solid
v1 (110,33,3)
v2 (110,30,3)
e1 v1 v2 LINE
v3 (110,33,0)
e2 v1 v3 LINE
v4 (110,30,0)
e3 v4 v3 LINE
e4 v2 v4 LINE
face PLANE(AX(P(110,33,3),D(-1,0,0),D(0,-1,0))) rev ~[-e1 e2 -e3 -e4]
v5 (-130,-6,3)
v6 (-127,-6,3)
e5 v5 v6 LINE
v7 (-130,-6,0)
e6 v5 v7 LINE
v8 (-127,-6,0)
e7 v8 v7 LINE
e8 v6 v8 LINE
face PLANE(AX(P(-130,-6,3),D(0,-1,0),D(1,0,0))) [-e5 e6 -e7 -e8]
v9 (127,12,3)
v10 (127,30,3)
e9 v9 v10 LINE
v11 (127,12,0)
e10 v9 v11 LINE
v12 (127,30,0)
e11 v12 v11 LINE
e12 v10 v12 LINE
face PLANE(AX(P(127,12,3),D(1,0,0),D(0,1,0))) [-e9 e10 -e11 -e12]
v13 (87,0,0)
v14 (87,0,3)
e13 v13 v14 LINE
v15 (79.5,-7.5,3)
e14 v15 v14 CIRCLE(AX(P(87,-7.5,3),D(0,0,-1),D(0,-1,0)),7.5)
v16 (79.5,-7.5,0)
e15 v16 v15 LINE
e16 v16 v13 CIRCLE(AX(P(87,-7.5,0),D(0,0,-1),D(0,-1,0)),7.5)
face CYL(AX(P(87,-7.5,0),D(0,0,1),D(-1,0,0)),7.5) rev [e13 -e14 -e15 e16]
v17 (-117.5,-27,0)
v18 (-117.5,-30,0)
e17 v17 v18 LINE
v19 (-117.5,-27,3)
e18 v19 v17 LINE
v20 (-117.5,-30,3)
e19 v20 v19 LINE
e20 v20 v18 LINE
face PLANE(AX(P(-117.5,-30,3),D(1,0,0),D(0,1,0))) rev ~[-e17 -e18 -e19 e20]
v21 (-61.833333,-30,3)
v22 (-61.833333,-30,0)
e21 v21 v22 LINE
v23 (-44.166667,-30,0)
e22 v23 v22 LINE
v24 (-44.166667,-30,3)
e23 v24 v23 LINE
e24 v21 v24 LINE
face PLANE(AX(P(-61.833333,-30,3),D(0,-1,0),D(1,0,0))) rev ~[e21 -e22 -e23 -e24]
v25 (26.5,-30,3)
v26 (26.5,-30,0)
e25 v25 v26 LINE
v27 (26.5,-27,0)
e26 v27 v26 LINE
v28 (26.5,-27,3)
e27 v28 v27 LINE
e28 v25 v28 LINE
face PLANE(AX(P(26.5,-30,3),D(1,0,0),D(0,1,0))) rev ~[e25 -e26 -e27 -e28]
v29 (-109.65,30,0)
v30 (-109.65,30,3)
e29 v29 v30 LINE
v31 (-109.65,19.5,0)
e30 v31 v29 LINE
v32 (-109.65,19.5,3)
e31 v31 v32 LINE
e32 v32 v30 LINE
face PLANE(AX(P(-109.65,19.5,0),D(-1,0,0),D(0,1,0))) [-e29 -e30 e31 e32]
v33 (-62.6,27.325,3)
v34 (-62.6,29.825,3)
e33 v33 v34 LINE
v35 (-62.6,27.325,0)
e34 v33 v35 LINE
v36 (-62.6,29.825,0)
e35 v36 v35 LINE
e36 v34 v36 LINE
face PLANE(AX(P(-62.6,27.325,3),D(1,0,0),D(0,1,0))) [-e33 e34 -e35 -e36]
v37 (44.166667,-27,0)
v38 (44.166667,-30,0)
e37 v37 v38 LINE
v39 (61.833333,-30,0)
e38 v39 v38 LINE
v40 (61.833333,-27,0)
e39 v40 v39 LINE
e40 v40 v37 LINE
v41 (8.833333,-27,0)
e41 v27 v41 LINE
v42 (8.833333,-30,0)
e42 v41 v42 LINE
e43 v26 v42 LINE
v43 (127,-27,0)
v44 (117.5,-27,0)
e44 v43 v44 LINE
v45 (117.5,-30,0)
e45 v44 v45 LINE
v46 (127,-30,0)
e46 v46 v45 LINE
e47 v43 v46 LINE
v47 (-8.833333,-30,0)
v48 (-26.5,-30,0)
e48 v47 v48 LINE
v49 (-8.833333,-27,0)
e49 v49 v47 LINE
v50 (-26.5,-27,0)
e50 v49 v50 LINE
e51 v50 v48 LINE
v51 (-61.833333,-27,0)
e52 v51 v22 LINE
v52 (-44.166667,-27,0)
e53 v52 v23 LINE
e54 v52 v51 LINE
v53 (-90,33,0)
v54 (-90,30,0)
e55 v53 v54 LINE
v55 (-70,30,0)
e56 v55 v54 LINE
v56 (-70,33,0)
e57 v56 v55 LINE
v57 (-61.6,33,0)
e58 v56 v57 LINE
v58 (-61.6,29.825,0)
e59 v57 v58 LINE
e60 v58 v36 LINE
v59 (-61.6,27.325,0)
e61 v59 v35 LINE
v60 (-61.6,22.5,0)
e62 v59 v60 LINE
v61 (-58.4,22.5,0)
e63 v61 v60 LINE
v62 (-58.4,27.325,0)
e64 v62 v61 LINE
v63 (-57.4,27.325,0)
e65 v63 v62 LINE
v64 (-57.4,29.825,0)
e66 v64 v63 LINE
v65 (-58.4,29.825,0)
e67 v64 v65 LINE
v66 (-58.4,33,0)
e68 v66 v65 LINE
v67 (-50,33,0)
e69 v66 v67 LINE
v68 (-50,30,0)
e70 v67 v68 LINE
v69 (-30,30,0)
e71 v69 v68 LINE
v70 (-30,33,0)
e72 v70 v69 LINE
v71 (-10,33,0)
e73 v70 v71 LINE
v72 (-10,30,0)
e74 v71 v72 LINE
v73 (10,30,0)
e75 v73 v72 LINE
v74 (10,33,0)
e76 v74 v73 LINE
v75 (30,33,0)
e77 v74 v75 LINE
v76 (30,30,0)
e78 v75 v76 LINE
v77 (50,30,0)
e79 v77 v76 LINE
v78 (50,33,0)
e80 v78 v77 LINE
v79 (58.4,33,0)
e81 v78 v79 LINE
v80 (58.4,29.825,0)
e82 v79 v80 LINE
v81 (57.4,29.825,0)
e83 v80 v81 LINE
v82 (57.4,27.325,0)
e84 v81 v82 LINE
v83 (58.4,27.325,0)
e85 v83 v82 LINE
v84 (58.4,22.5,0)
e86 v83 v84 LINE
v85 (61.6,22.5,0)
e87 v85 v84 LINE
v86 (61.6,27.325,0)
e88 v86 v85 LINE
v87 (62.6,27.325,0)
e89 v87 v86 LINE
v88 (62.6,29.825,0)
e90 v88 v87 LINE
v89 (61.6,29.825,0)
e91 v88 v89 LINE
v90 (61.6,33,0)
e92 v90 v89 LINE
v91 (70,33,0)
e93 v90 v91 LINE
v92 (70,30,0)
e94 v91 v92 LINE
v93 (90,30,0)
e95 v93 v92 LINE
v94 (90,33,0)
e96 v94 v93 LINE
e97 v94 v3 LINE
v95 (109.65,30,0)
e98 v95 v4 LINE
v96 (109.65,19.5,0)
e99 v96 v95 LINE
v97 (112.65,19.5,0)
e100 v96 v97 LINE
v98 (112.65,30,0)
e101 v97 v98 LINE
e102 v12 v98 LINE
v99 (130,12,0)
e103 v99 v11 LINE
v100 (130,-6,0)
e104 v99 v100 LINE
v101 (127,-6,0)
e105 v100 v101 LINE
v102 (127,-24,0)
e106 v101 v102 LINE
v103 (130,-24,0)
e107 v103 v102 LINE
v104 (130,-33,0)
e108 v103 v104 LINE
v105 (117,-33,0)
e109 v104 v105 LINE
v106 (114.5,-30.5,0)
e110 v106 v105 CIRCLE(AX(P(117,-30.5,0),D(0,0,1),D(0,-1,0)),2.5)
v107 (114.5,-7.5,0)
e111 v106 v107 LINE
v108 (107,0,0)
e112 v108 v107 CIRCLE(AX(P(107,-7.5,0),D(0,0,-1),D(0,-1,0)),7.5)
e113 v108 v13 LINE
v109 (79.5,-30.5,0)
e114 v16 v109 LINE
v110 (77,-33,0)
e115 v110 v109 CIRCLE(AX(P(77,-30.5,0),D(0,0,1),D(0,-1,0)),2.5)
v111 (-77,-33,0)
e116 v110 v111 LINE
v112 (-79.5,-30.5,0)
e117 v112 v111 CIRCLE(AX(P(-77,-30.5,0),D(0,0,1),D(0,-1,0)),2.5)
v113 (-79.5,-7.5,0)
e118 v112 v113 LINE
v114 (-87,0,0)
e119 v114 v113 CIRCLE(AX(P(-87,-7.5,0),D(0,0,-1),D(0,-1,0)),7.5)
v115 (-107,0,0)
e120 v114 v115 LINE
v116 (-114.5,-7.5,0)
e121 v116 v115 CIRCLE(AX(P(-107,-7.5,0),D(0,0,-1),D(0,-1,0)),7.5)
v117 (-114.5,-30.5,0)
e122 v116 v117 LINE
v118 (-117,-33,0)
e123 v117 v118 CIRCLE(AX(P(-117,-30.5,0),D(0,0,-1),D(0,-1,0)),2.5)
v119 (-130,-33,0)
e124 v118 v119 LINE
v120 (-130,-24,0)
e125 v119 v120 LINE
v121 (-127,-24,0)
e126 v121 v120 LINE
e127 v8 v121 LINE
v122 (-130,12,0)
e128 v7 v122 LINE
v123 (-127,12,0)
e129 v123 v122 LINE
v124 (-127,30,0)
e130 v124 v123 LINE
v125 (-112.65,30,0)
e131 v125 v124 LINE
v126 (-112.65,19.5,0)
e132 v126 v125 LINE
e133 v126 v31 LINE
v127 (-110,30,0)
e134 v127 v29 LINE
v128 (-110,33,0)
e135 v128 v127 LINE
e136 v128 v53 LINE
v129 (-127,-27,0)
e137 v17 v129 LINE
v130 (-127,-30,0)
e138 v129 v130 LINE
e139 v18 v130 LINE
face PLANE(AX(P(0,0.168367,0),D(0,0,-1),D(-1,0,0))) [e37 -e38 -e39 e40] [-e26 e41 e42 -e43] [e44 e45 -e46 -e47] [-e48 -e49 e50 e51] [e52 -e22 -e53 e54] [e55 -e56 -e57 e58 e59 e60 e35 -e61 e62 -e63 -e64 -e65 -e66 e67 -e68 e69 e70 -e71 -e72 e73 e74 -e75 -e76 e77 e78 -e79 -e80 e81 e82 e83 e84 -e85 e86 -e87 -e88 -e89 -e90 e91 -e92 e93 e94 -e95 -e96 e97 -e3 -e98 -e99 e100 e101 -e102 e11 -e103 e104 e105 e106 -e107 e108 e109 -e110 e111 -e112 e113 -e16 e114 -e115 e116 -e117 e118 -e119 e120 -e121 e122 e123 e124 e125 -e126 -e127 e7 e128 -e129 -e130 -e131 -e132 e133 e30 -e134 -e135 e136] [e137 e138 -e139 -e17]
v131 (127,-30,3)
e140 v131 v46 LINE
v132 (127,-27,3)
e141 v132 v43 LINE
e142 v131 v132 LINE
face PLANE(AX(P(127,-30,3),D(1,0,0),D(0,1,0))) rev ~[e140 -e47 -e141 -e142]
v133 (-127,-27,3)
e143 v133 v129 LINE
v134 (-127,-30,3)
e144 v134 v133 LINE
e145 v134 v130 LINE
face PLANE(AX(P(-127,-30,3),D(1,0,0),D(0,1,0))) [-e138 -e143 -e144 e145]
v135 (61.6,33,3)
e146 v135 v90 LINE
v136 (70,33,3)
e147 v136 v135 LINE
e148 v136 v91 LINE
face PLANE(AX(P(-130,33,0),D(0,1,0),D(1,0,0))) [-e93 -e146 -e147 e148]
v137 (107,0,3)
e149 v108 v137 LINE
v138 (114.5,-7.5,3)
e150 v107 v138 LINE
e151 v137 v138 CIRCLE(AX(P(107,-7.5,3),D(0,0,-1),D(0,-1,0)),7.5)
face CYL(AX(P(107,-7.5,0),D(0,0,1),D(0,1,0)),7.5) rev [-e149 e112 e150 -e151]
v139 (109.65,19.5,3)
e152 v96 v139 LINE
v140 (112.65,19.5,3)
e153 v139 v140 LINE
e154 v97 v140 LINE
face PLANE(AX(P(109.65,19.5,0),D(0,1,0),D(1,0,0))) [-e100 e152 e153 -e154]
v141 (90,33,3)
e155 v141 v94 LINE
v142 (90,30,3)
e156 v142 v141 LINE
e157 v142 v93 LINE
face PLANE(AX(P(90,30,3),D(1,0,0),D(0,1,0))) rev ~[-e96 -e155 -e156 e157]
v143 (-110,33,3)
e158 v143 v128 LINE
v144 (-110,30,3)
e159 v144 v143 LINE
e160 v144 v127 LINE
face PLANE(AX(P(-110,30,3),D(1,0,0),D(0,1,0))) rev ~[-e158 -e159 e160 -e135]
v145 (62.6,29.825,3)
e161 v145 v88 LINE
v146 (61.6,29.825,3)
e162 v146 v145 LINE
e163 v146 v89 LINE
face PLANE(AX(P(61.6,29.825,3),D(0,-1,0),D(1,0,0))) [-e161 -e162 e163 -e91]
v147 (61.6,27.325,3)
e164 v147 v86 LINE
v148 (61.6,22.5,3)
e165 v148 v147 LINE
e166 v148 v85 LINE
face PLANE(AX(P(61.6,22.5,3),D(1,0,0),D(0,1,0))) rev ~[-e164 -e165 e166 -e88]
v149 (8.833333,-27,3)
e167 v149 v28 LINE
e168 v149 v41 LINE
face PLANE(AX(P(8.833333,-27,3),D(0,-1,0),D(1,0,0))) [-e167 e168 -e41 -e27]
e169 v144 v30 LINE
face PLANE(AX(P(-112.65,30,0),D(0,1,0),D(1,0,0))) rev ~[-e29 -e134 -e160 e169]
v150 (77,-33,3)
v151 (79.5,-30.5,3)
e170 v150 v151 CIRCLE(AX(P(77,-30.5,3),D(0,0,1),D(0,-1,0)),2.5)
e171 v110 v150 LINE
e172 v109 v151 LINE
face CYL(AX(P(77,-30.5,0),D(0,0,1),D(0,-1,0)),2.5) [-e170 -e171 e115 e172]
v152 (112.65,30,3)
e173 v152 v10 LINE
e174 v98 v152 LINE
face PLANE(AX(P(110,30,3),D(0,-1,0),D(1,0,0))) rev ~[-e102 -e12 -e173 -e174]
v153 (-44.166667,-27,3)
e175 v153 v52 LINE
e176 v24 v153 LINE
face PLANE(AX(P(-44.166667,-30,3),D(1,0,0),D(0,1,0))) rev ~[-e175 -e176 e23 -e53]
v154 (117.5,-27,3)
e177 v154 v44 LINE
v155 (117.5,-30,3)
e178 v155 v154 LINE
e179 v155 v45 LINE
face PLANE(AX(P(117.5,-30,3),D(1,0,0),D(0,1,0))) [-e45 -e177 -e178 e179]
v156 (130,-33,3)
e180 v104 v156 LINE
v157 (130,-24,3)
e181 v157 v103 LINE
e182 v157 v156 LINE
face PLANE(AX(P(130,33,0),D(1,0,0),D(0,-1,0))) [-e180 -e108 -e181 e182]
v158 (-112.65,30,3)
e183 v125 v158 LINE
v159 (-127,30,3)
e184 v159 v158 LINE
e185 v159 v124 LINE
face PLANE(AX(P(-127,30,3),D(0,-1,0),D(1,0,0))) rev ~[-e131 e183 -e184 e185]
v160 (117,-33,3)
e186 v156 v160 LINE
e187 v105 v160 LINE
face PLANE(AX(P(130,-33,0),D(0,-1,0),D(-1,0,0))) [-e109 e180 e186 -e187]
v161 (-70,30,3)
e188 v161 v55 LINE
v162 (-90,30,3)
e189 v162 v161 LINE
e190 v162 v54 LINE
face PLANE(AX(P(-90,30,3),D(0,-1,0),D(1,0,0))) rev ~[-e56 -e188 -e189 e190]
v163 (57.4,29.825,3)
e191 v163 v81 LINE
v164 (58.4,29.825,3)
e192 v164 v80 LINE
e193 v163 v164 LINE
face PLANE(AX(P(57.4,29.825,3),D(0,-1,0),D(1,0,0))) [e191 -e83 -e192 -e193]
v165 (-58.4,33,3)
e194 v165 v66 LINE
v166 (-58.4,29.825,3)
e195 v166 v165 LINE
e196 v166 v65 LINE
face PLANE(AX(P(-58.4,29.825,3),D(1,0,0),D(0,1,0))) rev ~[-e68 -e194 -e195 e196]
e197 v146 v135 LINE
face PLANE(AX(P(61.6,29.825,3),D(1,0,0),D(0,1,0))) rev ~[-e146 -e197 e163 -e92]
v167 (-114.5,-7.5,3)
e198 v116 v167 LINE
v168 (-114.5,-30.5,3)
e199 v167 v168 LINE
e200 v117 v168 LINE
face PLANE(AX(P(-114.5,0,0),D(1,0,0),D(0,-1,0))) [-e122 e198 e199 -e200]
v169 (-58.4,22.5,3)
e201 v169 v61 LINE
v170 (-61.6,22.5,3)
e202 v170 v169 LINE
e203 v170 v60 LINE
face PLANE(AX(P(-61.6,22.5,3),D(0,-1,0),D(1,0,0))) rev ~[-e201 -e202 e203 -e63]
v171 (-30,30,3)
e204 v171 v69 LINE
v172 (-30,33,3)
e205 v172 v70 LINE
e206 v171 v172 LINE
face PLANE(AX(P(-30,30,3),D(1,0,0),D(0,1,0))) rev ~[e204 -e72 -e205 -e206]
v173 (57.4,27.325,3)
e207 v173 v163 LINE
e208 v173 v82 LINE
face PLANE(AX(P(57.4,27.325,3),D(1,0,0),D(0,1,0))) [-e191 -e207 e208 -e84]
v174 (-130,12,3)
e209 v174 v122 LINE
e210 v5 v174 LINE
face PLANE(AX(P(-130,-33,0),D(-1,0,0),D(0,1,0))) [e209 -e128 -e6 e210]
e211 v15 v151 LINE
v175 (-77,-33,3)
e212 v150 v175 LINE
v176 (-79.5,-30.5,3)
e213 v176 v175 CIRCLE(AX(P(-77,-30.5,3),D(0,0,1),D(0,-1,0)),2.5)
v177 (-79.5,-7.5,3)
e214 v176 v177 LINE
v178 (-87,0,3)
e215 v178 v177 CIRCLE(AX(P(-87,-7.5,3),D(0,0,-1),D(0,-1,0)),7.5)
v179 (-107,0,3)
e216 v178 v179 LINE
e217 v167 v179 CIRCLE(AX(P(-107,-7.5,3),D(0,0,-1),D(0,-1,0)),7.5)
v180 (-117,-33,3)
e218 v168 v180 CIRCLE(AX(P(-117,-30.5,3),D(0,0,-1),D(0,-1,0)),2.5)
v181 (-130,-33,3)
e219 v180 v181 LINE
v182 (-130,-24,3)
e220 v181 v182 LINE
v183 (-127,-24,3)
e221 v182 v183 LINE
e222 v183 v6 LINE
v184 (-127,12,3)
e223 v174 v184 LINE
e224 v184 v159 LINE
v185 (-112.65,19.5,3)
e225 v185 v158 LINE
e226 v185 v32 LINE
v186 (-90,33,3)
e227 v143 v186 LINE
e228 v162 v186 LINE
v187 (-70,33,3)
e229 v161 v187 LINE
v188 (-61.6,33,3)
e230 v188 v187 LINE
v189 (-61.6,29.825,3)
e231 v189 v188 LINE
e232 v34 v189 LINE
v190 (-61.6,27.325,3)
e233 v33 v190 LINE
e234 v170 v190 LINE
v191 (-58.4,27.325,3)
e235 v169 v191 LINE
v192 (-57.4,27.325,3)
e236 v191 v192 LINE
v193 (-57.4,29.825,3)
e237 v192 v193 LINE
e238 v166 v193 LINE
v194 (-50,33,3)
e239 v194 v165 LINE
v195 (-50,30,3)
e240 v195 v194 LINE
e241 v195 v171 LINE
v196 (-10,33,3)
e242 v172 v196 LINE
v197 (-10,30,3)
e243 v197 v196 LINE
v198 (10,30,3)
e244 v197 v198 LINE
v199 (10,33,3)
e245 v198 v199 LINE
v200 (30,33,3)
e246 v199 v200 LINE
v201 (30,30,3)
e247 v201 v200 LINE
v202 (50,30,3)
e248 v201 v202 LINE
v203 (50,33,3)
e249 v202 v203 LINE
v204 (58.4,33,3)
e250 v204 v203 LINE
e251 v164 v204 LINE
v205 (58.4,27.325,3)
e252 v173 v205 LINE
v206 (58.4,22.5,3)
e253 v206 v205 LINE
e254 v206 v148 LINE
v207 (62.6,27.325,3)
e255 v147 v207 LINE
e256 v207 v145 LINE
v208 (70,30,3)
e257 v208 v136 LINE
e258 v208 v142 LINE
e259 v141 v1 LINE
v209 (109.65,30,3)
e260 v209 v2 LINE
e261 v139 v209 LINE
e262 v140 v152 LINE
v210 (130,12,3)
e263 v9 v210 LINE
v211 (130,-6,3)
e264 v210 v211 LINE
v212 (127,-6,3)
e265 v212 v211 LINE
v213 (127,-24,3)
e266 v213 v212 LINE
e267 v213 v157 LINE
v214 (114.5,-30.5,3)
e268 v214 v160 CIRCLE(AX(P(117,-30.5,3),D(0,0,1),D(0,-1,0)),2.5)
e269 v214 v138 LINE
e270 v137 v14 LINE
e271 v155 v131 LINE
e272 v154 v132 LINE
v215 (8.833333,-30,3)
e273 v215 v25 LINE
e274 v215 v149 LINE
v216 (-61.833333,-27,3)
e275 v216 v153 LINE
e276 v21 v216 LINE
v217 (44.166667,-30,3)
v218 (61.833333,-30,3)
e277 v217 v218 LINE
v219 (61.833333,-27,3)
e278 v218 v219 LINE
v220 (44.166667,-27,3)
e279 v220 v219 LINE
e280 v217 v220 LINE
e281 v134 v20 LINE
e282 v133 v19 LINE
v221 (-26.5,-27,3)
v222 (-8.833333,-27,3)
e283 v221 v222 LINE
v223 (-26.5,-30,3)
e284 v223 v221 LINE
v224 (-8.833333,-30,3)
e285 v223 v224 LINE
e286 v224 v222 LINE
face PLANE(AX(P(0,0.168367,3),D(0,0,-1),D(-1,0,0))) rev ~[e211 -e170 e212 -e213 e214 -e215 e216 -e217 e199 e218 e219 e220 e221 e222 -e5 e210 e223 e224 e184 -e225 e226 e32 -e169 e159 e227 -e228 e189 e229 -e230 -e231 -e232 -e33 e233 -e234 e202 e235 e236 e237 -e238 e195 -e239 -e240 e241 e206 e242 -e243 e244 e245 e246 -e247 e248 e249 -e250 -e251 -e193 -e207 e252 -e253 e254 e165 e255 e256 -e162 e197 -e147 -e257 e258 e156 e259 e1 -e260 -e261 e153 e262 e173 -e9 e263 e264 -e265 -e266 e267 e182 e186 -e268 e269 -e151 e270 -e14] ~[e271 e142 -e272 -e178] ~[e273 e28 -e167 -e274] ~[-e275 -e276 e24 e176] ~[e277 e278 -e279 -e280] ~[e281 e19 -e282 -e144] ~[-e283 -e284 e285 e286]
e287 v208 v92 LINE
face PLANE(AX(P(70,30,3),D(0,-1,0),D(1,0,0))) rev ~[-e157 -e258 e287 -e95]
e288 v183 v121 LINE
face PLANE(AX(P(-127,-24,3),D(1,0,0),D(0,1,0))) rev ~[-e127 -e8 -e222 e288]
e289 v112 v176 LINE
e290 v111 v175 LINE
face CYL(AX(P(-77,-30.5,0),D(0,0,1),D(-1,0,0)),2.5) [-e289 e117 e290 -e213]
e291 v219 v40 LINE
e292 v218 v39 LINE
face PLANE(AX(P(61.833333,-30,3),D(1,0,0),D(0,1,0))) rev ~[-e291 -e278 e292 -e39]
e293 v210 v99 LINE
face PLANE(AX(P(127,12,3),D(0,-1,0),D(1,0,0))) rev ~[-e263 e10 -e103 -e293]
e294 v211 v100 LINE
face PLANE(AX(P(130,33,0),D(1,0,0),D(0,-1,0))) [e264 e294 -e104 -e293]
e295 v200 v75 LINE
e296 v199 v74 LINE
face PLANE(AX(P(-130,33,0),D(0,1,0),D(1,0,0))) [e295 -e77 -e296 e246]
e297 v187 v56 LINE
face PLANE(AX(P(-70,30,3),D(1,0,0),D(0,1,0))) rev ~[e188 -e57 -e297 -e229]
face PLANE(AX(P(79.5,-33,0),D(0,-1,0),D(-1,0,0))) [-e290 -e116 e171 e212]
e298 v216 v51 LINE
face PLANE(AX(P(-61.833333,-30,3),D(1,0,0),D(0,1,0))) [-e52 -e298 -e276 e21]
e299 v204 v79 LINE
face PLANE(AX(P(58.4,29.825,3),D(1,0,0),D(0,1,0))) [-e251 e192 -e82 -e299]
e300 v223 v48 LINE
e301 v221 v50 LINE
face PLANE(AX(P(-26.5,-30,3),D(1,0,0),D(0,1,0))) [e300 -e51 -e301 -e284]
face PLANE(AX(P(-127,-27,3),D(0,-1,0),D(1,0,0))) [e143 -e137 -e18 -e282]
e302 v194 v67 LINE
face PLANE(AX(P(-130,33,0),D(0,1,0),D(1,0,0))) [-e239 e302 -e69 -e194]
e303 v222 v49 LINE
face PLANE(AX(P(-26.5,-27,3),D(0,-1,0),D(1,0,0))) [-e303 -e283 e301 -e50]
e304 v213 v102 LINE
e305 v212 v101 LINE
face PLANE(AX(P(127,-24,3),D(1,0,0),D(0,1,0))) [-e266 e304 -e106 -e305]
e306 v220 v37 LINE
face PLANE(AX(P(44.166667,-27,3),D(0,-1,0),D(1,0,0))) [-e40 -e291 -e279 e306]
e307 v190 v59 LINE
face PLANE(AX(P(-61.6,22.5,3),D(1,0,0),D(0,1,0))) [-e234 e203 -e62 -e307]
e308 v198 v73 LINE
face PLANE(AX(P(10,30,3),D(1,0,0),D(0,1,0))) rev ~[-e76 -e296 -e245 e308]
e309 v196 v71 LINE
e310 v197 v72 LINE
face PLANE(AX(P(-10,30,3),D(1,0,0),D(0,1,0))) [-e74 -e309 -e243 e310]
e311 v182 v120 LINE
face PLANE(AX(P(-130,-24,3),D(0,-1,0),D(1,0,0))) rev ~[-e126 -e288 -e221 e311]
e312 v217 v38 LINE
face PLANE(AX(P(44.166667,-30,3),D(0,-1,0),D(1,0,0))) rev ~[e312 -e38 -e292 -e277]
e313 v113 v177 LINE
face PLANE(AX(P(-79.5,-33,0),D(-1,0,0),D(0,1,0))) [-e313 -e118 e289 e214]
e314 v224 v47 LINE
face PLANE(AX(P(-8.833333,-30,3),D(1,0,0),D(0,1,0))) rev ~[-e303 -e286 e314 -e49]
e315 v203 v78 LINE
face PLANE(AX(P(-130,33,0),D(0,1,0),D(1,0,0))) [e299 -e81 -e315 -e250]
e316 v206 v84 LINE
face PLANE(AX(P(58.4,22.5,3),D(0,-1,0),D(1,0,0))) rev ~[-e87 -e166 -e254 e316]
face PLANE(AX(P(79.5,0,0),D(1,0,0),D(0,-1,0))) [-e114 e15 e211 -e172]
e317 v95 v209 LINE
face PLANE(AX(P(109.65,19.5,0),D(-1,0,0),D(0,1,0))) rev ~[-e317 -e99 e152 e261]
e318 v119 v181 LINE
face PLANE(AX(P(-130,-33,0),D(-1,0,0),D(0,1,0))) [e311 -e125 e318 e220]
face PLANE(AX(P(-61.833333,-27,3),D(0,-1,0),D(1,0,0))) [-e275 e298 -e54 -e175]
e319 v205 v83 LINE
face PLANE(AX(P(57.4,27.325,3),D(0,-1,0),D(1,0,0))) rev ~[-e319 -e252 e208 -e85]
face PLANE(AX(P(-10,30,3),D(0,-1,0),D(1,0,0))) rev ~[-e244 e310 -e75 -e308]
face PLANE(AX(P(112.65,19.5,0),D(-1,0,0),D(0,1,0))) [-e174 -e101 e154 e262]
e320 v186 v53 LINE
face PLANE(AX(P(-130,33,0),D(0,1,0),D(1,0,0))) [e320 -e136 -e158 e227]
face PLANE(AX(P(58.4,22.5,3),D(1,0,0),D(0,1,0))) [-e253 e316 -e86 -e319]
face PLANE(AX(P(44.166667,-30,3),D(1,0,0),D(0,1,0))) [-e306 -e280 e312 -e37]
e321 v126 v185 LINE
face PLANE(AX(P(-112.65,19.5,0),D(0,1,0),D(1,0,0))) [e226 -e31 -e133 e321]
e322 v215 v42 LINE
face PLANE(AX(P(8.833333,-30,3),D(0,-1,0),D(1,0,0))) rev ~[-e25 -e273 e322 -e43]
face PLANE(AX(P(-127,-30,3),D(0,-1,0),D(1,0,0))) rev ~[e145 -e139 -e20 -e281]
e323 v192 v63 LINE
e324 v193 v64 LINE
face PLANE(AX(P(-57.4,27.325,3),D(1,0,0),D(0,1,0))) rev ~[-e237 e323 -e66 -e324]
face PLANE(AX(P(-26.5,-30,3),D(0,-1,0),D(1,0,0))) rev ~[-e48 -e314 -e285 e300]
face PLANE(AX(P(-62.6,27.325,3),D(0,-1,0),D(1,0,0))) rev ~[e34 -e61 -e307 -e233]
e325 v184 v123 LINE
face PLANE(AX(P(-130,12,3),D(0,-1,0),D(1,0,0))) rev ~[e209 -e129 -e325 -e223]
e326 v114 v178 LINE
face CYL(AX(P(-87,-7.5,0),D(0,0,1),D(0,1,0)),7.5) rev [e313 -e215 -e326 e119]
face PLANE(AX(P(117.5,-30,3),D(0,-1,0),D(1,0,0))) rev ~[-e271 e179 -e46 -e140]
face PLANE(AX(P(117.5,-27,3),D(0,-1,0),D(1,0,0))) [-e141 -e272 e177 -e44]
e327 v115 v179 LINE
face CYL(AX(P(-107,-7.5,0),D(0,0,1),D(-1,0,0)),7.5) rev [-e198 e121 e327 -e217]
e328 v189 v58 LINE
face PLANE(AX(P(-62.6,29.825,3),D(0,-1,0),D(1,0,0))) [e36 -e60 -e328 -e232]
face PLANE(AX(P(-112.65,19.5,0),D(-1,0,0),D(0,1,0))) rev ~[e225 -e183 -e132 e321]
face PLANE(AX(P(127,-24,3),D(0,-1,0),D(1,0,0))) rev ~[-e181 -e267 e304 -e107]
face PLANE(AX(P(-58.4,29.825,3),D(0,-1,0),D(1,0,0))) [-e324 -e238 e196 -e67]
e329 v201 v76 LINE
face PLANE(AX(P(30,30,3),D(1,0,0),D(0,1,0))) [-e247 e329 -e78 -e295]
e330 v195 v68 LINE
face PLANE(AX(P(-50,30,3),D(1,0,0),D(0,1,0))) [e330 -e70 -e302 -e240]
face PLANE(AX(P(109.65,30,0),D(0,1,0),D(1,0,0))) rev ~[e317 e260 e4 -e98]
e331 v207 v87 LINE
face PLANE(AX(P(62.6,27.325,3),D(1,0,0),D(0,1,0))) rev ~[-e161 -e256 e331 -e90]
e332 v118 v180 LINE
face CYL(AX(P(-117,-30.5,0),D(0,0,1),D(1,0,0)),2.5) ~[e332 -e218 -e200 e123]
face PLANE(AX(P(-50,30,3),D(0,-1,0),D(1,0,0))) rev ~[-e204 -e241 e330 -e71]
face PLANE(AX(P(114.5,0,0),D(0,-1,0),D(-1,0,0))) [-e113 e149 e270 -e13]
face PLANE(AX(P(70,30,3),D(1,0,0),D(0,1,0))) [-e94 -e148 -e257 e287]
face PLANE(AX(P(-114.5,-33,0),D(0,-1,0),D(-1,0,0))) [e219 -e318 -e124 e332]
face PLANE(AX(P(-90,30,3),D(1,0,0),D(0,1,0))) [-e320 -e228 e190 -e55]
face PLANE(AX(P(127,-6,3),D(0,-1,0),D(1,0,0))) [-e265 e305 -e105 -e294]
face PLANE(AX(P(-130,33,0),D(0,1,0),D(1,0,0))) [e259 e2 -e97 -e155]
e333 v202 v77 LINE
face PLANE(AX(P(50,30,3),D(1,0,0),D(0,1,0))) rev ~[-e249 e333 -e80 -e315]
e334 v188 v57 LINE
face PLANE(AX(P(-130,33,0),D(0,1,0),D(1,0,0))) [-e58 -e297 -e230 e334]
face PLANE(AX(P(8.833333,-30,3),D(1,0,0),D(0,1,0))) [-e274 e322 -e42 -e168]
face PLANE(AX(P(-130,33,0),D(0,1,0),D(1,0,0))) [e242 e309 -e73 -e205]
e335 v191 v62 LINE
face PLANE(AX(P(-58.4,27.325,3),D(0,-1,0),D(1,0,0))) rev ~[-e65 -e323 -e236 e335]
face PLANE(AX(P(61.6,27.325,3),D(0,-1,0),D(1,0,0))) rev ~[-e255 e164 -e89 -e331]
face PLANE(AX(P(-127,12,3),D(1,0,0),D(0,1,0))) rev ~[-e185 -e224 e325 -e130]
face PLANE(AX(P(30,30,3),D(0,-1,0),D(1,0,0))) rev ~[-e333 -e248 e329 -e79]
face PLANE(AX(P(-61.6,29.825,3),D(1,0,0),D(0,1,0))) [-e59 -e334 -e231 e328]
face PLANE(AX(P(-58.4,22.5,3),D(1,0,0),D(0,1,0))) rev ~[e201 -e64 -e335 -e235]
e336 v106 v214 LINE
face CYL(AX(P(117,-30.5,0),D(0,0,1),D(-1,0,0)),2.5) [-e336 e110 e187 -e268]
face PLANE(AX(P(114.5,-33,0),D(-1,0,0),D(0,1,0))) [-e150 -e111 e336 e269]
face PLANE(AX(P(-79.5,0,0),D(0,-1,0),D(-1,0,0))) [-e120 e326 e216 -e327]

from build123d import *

# Parameters (mm, degrees)
BOSS_EXTRUDE1_DEPTH     = 3
SKETCH2_W               = 3
SKETCH2_H               = 18
SKETCH2_W_2             = 17.666666666
SKETCH2_H_2             = 3
SKETCH2_W_3             = 17.666666667
SKETCH2_W_4             = 9.5
SKETCH2_W_5             = 20
CUT_EXTRUDE1_DEPTH      = 1
CUT_EXTRUDE1_DEPTH_BACK = 4
SKETCH3_W               = 3.2
SKETCH3_H               = 10.5
SKETCH3_W_2             = 5.2
SKETCH3_H_2             = 2.5
CUT_EXTRUDE2_DEPTH      = 1
CUT_EXTRUDE2_DEPTH_BACK = 4
FILLET1_R               = 7.5
FILLET2_R               = 2.5
SKETCH4_W               = 3
SKETCH4_H               = 10.5
CUT_EXTRUDE3_DEPTH      = 4
CUT_EXTRUDE3_DEPTH_BACK = 1


with BuildPart() as part:
    # Sketch1 → Boss-Extrude1 (new body)
    with BuildSketch(Plane.XY):
        Polygon((-130, 33), (130, 33), (130, -33), (114.5, -33), (114.5, 0), (79.5, 0), (79.5, -33), (-79.5, -33), (-79.5, 0), (-114.5, 0), (-114.5, -33), (-130, -33), align=None)
    extrude(amount=BOSS_EXTRUDE1_DEPTH)

    # Sketch2 → Cut-Extrude1 (cut, two sides)
    with BuildSketch(Plane.XY.offset(3)) as cut_extrude1_sk:
        with Locations((-128.5, 21)):
            Rectangle(SKETCH2_W, SKETCH2_H)
        with Locations((-128.5, -15)):
            Rectangle(SKETCH2_W, SKETCH2_H)
        with Locations((-53, -28.5)):
            Rectangle(SKETCH2_W_2, SKETCH2_H_2)
        with Locations((-17.666666666, -28.5)):
            Rectangle(SKETCH2_W_3, SKETCH2_H_2)
        with Locations((17.666666666, -28.5)):
            Rectangle(SKETCH2_W_3, SKETCH2_H_2)
        with Locations((53, -28.5)):
            Rectangle(SKETCH2_W_2, SKETCH2_H_2)
        with Locations((122.25, -28.5)):
            Rectangle(SKETCH2_W_4, SKETCH2_H_2)
        with Locations((128.5, -15)):
            Rectangle(SKETCH2_W, SKETCH2_H)
        with Locations((128.5, 21)):
            Rectangle(SKETCH2_W, SKETCH2_H)
        Polygon((130, 33), (110, 33), (110, 30), (127, 30), (130, 30), align=None)
        with Locations((80, 31.5)):
            Rectangle(SKETCH2_W_5, SKETCH2_H_2)
        with Locations((40, 31.5)):
            Rectangle(SKETCH2_W_5, SKETCH2_H_2)
        with Locations((-40, 31.5)):
            Rectangle(SKETCH2_W_5, SKETCH2_H_2)
        with Locations((-80, 31.5)):
            Rectangle(SKETCH2_W_5, SKETCH2_H_2)
        with Locations((0, 31.5)):
            Rectangle(SKETCH2_W_5, SKETCH2_H_2)
        with Locations((-120, 31.5)):
            Rectangle(SKETCH2_W_5, SKETCH2_H_2)
        with Locations((-122.25, -28.5)):
            Rectangle(SKETCH2_W_4, SKETCH2_H_2)
    extrude(amount=CUT_EXTRUDE1_DEPTH, mode=Mode.SUBTRACT)
    extrude(cut_extrude1_sk.sketch, amount=-CUT_EXTRUDE1_DEPTH_BACK, mode=Mode.SUBTRACT)

    # Sketch3 → Cut-Extrude2 (cut, two sides)
    with BuildSketch(Plane.XY.offset(3)) as cut_extrude2_sk:
        with Locations((-60, 27.75)):
            Rectangle(SKETCH3_W, SKETCH3_H)
        with Locations((60, 27.75)):
            Rectangle(SKETCH3_W, SKETCH3_H)
        with Locations((-60, 28.575)):
            Rectangle(SKETCH3_W_2, SKETCH3_H_2)
        with Locations((60, 28.575)):
            Rectangle(SKETCH3_W_2, SKETCH3_H_2)
    extrude(amount=CUT_EXTRUDE2_DEPTH, mode=Mode.SUBTRACT)
    extrude(cut_extrude2_sk.sketch, amount=-CUT_EXTRUDE2_DEPTH_BACK, mode=Mode.SUBTRACT)

    # Fillet1
    fillet1_edges = [part.edges().sort_by_distance(p)[0] for p in [
        (114.5, 0, 1.5),
        (79.5, 0, 1.5),
        (-79.5, 0, 1.5),
        (-114.5, 0, 1.5),
    ]]
    fillet(fillet1_edges, radius=FILLET1_R)

    # Fillet2
    fillet2_edges = [part.edges().sort_by_distance(p)[0] for p in [
        (114.5, -33, 1.5),
        (79.5, -33, 1.5),
        (-79.5, -33, 1.5),
        (-114.5, -33, 1.5),
    ]]
    fillet(fillet2_edges, radius=FILLET2_R)

    # Sketch4 → Cut-Extrude3 (cut, two sides)
    with BuildSketch(Plane.XY) as cut_extrude3_sk:
        with Locations((-111.15, 24.75)):
            Rectangle(SKETCH4_W, SKETCH4_H)
        with Locations((111.15, 24.75)):
            Rectangle(SKETCH4_W, SKETCH4_H)
    extrude(amount=CUT_EXTRUDE3_DEPTH, mode=Mode.SUBTRACT)
    extrude(cut_extrude3_sk.sketch, amount=-CUT_EXTRUDE3_DEPTH_BACK, mode=Mode.SUBTRACT)


solid = part.part
